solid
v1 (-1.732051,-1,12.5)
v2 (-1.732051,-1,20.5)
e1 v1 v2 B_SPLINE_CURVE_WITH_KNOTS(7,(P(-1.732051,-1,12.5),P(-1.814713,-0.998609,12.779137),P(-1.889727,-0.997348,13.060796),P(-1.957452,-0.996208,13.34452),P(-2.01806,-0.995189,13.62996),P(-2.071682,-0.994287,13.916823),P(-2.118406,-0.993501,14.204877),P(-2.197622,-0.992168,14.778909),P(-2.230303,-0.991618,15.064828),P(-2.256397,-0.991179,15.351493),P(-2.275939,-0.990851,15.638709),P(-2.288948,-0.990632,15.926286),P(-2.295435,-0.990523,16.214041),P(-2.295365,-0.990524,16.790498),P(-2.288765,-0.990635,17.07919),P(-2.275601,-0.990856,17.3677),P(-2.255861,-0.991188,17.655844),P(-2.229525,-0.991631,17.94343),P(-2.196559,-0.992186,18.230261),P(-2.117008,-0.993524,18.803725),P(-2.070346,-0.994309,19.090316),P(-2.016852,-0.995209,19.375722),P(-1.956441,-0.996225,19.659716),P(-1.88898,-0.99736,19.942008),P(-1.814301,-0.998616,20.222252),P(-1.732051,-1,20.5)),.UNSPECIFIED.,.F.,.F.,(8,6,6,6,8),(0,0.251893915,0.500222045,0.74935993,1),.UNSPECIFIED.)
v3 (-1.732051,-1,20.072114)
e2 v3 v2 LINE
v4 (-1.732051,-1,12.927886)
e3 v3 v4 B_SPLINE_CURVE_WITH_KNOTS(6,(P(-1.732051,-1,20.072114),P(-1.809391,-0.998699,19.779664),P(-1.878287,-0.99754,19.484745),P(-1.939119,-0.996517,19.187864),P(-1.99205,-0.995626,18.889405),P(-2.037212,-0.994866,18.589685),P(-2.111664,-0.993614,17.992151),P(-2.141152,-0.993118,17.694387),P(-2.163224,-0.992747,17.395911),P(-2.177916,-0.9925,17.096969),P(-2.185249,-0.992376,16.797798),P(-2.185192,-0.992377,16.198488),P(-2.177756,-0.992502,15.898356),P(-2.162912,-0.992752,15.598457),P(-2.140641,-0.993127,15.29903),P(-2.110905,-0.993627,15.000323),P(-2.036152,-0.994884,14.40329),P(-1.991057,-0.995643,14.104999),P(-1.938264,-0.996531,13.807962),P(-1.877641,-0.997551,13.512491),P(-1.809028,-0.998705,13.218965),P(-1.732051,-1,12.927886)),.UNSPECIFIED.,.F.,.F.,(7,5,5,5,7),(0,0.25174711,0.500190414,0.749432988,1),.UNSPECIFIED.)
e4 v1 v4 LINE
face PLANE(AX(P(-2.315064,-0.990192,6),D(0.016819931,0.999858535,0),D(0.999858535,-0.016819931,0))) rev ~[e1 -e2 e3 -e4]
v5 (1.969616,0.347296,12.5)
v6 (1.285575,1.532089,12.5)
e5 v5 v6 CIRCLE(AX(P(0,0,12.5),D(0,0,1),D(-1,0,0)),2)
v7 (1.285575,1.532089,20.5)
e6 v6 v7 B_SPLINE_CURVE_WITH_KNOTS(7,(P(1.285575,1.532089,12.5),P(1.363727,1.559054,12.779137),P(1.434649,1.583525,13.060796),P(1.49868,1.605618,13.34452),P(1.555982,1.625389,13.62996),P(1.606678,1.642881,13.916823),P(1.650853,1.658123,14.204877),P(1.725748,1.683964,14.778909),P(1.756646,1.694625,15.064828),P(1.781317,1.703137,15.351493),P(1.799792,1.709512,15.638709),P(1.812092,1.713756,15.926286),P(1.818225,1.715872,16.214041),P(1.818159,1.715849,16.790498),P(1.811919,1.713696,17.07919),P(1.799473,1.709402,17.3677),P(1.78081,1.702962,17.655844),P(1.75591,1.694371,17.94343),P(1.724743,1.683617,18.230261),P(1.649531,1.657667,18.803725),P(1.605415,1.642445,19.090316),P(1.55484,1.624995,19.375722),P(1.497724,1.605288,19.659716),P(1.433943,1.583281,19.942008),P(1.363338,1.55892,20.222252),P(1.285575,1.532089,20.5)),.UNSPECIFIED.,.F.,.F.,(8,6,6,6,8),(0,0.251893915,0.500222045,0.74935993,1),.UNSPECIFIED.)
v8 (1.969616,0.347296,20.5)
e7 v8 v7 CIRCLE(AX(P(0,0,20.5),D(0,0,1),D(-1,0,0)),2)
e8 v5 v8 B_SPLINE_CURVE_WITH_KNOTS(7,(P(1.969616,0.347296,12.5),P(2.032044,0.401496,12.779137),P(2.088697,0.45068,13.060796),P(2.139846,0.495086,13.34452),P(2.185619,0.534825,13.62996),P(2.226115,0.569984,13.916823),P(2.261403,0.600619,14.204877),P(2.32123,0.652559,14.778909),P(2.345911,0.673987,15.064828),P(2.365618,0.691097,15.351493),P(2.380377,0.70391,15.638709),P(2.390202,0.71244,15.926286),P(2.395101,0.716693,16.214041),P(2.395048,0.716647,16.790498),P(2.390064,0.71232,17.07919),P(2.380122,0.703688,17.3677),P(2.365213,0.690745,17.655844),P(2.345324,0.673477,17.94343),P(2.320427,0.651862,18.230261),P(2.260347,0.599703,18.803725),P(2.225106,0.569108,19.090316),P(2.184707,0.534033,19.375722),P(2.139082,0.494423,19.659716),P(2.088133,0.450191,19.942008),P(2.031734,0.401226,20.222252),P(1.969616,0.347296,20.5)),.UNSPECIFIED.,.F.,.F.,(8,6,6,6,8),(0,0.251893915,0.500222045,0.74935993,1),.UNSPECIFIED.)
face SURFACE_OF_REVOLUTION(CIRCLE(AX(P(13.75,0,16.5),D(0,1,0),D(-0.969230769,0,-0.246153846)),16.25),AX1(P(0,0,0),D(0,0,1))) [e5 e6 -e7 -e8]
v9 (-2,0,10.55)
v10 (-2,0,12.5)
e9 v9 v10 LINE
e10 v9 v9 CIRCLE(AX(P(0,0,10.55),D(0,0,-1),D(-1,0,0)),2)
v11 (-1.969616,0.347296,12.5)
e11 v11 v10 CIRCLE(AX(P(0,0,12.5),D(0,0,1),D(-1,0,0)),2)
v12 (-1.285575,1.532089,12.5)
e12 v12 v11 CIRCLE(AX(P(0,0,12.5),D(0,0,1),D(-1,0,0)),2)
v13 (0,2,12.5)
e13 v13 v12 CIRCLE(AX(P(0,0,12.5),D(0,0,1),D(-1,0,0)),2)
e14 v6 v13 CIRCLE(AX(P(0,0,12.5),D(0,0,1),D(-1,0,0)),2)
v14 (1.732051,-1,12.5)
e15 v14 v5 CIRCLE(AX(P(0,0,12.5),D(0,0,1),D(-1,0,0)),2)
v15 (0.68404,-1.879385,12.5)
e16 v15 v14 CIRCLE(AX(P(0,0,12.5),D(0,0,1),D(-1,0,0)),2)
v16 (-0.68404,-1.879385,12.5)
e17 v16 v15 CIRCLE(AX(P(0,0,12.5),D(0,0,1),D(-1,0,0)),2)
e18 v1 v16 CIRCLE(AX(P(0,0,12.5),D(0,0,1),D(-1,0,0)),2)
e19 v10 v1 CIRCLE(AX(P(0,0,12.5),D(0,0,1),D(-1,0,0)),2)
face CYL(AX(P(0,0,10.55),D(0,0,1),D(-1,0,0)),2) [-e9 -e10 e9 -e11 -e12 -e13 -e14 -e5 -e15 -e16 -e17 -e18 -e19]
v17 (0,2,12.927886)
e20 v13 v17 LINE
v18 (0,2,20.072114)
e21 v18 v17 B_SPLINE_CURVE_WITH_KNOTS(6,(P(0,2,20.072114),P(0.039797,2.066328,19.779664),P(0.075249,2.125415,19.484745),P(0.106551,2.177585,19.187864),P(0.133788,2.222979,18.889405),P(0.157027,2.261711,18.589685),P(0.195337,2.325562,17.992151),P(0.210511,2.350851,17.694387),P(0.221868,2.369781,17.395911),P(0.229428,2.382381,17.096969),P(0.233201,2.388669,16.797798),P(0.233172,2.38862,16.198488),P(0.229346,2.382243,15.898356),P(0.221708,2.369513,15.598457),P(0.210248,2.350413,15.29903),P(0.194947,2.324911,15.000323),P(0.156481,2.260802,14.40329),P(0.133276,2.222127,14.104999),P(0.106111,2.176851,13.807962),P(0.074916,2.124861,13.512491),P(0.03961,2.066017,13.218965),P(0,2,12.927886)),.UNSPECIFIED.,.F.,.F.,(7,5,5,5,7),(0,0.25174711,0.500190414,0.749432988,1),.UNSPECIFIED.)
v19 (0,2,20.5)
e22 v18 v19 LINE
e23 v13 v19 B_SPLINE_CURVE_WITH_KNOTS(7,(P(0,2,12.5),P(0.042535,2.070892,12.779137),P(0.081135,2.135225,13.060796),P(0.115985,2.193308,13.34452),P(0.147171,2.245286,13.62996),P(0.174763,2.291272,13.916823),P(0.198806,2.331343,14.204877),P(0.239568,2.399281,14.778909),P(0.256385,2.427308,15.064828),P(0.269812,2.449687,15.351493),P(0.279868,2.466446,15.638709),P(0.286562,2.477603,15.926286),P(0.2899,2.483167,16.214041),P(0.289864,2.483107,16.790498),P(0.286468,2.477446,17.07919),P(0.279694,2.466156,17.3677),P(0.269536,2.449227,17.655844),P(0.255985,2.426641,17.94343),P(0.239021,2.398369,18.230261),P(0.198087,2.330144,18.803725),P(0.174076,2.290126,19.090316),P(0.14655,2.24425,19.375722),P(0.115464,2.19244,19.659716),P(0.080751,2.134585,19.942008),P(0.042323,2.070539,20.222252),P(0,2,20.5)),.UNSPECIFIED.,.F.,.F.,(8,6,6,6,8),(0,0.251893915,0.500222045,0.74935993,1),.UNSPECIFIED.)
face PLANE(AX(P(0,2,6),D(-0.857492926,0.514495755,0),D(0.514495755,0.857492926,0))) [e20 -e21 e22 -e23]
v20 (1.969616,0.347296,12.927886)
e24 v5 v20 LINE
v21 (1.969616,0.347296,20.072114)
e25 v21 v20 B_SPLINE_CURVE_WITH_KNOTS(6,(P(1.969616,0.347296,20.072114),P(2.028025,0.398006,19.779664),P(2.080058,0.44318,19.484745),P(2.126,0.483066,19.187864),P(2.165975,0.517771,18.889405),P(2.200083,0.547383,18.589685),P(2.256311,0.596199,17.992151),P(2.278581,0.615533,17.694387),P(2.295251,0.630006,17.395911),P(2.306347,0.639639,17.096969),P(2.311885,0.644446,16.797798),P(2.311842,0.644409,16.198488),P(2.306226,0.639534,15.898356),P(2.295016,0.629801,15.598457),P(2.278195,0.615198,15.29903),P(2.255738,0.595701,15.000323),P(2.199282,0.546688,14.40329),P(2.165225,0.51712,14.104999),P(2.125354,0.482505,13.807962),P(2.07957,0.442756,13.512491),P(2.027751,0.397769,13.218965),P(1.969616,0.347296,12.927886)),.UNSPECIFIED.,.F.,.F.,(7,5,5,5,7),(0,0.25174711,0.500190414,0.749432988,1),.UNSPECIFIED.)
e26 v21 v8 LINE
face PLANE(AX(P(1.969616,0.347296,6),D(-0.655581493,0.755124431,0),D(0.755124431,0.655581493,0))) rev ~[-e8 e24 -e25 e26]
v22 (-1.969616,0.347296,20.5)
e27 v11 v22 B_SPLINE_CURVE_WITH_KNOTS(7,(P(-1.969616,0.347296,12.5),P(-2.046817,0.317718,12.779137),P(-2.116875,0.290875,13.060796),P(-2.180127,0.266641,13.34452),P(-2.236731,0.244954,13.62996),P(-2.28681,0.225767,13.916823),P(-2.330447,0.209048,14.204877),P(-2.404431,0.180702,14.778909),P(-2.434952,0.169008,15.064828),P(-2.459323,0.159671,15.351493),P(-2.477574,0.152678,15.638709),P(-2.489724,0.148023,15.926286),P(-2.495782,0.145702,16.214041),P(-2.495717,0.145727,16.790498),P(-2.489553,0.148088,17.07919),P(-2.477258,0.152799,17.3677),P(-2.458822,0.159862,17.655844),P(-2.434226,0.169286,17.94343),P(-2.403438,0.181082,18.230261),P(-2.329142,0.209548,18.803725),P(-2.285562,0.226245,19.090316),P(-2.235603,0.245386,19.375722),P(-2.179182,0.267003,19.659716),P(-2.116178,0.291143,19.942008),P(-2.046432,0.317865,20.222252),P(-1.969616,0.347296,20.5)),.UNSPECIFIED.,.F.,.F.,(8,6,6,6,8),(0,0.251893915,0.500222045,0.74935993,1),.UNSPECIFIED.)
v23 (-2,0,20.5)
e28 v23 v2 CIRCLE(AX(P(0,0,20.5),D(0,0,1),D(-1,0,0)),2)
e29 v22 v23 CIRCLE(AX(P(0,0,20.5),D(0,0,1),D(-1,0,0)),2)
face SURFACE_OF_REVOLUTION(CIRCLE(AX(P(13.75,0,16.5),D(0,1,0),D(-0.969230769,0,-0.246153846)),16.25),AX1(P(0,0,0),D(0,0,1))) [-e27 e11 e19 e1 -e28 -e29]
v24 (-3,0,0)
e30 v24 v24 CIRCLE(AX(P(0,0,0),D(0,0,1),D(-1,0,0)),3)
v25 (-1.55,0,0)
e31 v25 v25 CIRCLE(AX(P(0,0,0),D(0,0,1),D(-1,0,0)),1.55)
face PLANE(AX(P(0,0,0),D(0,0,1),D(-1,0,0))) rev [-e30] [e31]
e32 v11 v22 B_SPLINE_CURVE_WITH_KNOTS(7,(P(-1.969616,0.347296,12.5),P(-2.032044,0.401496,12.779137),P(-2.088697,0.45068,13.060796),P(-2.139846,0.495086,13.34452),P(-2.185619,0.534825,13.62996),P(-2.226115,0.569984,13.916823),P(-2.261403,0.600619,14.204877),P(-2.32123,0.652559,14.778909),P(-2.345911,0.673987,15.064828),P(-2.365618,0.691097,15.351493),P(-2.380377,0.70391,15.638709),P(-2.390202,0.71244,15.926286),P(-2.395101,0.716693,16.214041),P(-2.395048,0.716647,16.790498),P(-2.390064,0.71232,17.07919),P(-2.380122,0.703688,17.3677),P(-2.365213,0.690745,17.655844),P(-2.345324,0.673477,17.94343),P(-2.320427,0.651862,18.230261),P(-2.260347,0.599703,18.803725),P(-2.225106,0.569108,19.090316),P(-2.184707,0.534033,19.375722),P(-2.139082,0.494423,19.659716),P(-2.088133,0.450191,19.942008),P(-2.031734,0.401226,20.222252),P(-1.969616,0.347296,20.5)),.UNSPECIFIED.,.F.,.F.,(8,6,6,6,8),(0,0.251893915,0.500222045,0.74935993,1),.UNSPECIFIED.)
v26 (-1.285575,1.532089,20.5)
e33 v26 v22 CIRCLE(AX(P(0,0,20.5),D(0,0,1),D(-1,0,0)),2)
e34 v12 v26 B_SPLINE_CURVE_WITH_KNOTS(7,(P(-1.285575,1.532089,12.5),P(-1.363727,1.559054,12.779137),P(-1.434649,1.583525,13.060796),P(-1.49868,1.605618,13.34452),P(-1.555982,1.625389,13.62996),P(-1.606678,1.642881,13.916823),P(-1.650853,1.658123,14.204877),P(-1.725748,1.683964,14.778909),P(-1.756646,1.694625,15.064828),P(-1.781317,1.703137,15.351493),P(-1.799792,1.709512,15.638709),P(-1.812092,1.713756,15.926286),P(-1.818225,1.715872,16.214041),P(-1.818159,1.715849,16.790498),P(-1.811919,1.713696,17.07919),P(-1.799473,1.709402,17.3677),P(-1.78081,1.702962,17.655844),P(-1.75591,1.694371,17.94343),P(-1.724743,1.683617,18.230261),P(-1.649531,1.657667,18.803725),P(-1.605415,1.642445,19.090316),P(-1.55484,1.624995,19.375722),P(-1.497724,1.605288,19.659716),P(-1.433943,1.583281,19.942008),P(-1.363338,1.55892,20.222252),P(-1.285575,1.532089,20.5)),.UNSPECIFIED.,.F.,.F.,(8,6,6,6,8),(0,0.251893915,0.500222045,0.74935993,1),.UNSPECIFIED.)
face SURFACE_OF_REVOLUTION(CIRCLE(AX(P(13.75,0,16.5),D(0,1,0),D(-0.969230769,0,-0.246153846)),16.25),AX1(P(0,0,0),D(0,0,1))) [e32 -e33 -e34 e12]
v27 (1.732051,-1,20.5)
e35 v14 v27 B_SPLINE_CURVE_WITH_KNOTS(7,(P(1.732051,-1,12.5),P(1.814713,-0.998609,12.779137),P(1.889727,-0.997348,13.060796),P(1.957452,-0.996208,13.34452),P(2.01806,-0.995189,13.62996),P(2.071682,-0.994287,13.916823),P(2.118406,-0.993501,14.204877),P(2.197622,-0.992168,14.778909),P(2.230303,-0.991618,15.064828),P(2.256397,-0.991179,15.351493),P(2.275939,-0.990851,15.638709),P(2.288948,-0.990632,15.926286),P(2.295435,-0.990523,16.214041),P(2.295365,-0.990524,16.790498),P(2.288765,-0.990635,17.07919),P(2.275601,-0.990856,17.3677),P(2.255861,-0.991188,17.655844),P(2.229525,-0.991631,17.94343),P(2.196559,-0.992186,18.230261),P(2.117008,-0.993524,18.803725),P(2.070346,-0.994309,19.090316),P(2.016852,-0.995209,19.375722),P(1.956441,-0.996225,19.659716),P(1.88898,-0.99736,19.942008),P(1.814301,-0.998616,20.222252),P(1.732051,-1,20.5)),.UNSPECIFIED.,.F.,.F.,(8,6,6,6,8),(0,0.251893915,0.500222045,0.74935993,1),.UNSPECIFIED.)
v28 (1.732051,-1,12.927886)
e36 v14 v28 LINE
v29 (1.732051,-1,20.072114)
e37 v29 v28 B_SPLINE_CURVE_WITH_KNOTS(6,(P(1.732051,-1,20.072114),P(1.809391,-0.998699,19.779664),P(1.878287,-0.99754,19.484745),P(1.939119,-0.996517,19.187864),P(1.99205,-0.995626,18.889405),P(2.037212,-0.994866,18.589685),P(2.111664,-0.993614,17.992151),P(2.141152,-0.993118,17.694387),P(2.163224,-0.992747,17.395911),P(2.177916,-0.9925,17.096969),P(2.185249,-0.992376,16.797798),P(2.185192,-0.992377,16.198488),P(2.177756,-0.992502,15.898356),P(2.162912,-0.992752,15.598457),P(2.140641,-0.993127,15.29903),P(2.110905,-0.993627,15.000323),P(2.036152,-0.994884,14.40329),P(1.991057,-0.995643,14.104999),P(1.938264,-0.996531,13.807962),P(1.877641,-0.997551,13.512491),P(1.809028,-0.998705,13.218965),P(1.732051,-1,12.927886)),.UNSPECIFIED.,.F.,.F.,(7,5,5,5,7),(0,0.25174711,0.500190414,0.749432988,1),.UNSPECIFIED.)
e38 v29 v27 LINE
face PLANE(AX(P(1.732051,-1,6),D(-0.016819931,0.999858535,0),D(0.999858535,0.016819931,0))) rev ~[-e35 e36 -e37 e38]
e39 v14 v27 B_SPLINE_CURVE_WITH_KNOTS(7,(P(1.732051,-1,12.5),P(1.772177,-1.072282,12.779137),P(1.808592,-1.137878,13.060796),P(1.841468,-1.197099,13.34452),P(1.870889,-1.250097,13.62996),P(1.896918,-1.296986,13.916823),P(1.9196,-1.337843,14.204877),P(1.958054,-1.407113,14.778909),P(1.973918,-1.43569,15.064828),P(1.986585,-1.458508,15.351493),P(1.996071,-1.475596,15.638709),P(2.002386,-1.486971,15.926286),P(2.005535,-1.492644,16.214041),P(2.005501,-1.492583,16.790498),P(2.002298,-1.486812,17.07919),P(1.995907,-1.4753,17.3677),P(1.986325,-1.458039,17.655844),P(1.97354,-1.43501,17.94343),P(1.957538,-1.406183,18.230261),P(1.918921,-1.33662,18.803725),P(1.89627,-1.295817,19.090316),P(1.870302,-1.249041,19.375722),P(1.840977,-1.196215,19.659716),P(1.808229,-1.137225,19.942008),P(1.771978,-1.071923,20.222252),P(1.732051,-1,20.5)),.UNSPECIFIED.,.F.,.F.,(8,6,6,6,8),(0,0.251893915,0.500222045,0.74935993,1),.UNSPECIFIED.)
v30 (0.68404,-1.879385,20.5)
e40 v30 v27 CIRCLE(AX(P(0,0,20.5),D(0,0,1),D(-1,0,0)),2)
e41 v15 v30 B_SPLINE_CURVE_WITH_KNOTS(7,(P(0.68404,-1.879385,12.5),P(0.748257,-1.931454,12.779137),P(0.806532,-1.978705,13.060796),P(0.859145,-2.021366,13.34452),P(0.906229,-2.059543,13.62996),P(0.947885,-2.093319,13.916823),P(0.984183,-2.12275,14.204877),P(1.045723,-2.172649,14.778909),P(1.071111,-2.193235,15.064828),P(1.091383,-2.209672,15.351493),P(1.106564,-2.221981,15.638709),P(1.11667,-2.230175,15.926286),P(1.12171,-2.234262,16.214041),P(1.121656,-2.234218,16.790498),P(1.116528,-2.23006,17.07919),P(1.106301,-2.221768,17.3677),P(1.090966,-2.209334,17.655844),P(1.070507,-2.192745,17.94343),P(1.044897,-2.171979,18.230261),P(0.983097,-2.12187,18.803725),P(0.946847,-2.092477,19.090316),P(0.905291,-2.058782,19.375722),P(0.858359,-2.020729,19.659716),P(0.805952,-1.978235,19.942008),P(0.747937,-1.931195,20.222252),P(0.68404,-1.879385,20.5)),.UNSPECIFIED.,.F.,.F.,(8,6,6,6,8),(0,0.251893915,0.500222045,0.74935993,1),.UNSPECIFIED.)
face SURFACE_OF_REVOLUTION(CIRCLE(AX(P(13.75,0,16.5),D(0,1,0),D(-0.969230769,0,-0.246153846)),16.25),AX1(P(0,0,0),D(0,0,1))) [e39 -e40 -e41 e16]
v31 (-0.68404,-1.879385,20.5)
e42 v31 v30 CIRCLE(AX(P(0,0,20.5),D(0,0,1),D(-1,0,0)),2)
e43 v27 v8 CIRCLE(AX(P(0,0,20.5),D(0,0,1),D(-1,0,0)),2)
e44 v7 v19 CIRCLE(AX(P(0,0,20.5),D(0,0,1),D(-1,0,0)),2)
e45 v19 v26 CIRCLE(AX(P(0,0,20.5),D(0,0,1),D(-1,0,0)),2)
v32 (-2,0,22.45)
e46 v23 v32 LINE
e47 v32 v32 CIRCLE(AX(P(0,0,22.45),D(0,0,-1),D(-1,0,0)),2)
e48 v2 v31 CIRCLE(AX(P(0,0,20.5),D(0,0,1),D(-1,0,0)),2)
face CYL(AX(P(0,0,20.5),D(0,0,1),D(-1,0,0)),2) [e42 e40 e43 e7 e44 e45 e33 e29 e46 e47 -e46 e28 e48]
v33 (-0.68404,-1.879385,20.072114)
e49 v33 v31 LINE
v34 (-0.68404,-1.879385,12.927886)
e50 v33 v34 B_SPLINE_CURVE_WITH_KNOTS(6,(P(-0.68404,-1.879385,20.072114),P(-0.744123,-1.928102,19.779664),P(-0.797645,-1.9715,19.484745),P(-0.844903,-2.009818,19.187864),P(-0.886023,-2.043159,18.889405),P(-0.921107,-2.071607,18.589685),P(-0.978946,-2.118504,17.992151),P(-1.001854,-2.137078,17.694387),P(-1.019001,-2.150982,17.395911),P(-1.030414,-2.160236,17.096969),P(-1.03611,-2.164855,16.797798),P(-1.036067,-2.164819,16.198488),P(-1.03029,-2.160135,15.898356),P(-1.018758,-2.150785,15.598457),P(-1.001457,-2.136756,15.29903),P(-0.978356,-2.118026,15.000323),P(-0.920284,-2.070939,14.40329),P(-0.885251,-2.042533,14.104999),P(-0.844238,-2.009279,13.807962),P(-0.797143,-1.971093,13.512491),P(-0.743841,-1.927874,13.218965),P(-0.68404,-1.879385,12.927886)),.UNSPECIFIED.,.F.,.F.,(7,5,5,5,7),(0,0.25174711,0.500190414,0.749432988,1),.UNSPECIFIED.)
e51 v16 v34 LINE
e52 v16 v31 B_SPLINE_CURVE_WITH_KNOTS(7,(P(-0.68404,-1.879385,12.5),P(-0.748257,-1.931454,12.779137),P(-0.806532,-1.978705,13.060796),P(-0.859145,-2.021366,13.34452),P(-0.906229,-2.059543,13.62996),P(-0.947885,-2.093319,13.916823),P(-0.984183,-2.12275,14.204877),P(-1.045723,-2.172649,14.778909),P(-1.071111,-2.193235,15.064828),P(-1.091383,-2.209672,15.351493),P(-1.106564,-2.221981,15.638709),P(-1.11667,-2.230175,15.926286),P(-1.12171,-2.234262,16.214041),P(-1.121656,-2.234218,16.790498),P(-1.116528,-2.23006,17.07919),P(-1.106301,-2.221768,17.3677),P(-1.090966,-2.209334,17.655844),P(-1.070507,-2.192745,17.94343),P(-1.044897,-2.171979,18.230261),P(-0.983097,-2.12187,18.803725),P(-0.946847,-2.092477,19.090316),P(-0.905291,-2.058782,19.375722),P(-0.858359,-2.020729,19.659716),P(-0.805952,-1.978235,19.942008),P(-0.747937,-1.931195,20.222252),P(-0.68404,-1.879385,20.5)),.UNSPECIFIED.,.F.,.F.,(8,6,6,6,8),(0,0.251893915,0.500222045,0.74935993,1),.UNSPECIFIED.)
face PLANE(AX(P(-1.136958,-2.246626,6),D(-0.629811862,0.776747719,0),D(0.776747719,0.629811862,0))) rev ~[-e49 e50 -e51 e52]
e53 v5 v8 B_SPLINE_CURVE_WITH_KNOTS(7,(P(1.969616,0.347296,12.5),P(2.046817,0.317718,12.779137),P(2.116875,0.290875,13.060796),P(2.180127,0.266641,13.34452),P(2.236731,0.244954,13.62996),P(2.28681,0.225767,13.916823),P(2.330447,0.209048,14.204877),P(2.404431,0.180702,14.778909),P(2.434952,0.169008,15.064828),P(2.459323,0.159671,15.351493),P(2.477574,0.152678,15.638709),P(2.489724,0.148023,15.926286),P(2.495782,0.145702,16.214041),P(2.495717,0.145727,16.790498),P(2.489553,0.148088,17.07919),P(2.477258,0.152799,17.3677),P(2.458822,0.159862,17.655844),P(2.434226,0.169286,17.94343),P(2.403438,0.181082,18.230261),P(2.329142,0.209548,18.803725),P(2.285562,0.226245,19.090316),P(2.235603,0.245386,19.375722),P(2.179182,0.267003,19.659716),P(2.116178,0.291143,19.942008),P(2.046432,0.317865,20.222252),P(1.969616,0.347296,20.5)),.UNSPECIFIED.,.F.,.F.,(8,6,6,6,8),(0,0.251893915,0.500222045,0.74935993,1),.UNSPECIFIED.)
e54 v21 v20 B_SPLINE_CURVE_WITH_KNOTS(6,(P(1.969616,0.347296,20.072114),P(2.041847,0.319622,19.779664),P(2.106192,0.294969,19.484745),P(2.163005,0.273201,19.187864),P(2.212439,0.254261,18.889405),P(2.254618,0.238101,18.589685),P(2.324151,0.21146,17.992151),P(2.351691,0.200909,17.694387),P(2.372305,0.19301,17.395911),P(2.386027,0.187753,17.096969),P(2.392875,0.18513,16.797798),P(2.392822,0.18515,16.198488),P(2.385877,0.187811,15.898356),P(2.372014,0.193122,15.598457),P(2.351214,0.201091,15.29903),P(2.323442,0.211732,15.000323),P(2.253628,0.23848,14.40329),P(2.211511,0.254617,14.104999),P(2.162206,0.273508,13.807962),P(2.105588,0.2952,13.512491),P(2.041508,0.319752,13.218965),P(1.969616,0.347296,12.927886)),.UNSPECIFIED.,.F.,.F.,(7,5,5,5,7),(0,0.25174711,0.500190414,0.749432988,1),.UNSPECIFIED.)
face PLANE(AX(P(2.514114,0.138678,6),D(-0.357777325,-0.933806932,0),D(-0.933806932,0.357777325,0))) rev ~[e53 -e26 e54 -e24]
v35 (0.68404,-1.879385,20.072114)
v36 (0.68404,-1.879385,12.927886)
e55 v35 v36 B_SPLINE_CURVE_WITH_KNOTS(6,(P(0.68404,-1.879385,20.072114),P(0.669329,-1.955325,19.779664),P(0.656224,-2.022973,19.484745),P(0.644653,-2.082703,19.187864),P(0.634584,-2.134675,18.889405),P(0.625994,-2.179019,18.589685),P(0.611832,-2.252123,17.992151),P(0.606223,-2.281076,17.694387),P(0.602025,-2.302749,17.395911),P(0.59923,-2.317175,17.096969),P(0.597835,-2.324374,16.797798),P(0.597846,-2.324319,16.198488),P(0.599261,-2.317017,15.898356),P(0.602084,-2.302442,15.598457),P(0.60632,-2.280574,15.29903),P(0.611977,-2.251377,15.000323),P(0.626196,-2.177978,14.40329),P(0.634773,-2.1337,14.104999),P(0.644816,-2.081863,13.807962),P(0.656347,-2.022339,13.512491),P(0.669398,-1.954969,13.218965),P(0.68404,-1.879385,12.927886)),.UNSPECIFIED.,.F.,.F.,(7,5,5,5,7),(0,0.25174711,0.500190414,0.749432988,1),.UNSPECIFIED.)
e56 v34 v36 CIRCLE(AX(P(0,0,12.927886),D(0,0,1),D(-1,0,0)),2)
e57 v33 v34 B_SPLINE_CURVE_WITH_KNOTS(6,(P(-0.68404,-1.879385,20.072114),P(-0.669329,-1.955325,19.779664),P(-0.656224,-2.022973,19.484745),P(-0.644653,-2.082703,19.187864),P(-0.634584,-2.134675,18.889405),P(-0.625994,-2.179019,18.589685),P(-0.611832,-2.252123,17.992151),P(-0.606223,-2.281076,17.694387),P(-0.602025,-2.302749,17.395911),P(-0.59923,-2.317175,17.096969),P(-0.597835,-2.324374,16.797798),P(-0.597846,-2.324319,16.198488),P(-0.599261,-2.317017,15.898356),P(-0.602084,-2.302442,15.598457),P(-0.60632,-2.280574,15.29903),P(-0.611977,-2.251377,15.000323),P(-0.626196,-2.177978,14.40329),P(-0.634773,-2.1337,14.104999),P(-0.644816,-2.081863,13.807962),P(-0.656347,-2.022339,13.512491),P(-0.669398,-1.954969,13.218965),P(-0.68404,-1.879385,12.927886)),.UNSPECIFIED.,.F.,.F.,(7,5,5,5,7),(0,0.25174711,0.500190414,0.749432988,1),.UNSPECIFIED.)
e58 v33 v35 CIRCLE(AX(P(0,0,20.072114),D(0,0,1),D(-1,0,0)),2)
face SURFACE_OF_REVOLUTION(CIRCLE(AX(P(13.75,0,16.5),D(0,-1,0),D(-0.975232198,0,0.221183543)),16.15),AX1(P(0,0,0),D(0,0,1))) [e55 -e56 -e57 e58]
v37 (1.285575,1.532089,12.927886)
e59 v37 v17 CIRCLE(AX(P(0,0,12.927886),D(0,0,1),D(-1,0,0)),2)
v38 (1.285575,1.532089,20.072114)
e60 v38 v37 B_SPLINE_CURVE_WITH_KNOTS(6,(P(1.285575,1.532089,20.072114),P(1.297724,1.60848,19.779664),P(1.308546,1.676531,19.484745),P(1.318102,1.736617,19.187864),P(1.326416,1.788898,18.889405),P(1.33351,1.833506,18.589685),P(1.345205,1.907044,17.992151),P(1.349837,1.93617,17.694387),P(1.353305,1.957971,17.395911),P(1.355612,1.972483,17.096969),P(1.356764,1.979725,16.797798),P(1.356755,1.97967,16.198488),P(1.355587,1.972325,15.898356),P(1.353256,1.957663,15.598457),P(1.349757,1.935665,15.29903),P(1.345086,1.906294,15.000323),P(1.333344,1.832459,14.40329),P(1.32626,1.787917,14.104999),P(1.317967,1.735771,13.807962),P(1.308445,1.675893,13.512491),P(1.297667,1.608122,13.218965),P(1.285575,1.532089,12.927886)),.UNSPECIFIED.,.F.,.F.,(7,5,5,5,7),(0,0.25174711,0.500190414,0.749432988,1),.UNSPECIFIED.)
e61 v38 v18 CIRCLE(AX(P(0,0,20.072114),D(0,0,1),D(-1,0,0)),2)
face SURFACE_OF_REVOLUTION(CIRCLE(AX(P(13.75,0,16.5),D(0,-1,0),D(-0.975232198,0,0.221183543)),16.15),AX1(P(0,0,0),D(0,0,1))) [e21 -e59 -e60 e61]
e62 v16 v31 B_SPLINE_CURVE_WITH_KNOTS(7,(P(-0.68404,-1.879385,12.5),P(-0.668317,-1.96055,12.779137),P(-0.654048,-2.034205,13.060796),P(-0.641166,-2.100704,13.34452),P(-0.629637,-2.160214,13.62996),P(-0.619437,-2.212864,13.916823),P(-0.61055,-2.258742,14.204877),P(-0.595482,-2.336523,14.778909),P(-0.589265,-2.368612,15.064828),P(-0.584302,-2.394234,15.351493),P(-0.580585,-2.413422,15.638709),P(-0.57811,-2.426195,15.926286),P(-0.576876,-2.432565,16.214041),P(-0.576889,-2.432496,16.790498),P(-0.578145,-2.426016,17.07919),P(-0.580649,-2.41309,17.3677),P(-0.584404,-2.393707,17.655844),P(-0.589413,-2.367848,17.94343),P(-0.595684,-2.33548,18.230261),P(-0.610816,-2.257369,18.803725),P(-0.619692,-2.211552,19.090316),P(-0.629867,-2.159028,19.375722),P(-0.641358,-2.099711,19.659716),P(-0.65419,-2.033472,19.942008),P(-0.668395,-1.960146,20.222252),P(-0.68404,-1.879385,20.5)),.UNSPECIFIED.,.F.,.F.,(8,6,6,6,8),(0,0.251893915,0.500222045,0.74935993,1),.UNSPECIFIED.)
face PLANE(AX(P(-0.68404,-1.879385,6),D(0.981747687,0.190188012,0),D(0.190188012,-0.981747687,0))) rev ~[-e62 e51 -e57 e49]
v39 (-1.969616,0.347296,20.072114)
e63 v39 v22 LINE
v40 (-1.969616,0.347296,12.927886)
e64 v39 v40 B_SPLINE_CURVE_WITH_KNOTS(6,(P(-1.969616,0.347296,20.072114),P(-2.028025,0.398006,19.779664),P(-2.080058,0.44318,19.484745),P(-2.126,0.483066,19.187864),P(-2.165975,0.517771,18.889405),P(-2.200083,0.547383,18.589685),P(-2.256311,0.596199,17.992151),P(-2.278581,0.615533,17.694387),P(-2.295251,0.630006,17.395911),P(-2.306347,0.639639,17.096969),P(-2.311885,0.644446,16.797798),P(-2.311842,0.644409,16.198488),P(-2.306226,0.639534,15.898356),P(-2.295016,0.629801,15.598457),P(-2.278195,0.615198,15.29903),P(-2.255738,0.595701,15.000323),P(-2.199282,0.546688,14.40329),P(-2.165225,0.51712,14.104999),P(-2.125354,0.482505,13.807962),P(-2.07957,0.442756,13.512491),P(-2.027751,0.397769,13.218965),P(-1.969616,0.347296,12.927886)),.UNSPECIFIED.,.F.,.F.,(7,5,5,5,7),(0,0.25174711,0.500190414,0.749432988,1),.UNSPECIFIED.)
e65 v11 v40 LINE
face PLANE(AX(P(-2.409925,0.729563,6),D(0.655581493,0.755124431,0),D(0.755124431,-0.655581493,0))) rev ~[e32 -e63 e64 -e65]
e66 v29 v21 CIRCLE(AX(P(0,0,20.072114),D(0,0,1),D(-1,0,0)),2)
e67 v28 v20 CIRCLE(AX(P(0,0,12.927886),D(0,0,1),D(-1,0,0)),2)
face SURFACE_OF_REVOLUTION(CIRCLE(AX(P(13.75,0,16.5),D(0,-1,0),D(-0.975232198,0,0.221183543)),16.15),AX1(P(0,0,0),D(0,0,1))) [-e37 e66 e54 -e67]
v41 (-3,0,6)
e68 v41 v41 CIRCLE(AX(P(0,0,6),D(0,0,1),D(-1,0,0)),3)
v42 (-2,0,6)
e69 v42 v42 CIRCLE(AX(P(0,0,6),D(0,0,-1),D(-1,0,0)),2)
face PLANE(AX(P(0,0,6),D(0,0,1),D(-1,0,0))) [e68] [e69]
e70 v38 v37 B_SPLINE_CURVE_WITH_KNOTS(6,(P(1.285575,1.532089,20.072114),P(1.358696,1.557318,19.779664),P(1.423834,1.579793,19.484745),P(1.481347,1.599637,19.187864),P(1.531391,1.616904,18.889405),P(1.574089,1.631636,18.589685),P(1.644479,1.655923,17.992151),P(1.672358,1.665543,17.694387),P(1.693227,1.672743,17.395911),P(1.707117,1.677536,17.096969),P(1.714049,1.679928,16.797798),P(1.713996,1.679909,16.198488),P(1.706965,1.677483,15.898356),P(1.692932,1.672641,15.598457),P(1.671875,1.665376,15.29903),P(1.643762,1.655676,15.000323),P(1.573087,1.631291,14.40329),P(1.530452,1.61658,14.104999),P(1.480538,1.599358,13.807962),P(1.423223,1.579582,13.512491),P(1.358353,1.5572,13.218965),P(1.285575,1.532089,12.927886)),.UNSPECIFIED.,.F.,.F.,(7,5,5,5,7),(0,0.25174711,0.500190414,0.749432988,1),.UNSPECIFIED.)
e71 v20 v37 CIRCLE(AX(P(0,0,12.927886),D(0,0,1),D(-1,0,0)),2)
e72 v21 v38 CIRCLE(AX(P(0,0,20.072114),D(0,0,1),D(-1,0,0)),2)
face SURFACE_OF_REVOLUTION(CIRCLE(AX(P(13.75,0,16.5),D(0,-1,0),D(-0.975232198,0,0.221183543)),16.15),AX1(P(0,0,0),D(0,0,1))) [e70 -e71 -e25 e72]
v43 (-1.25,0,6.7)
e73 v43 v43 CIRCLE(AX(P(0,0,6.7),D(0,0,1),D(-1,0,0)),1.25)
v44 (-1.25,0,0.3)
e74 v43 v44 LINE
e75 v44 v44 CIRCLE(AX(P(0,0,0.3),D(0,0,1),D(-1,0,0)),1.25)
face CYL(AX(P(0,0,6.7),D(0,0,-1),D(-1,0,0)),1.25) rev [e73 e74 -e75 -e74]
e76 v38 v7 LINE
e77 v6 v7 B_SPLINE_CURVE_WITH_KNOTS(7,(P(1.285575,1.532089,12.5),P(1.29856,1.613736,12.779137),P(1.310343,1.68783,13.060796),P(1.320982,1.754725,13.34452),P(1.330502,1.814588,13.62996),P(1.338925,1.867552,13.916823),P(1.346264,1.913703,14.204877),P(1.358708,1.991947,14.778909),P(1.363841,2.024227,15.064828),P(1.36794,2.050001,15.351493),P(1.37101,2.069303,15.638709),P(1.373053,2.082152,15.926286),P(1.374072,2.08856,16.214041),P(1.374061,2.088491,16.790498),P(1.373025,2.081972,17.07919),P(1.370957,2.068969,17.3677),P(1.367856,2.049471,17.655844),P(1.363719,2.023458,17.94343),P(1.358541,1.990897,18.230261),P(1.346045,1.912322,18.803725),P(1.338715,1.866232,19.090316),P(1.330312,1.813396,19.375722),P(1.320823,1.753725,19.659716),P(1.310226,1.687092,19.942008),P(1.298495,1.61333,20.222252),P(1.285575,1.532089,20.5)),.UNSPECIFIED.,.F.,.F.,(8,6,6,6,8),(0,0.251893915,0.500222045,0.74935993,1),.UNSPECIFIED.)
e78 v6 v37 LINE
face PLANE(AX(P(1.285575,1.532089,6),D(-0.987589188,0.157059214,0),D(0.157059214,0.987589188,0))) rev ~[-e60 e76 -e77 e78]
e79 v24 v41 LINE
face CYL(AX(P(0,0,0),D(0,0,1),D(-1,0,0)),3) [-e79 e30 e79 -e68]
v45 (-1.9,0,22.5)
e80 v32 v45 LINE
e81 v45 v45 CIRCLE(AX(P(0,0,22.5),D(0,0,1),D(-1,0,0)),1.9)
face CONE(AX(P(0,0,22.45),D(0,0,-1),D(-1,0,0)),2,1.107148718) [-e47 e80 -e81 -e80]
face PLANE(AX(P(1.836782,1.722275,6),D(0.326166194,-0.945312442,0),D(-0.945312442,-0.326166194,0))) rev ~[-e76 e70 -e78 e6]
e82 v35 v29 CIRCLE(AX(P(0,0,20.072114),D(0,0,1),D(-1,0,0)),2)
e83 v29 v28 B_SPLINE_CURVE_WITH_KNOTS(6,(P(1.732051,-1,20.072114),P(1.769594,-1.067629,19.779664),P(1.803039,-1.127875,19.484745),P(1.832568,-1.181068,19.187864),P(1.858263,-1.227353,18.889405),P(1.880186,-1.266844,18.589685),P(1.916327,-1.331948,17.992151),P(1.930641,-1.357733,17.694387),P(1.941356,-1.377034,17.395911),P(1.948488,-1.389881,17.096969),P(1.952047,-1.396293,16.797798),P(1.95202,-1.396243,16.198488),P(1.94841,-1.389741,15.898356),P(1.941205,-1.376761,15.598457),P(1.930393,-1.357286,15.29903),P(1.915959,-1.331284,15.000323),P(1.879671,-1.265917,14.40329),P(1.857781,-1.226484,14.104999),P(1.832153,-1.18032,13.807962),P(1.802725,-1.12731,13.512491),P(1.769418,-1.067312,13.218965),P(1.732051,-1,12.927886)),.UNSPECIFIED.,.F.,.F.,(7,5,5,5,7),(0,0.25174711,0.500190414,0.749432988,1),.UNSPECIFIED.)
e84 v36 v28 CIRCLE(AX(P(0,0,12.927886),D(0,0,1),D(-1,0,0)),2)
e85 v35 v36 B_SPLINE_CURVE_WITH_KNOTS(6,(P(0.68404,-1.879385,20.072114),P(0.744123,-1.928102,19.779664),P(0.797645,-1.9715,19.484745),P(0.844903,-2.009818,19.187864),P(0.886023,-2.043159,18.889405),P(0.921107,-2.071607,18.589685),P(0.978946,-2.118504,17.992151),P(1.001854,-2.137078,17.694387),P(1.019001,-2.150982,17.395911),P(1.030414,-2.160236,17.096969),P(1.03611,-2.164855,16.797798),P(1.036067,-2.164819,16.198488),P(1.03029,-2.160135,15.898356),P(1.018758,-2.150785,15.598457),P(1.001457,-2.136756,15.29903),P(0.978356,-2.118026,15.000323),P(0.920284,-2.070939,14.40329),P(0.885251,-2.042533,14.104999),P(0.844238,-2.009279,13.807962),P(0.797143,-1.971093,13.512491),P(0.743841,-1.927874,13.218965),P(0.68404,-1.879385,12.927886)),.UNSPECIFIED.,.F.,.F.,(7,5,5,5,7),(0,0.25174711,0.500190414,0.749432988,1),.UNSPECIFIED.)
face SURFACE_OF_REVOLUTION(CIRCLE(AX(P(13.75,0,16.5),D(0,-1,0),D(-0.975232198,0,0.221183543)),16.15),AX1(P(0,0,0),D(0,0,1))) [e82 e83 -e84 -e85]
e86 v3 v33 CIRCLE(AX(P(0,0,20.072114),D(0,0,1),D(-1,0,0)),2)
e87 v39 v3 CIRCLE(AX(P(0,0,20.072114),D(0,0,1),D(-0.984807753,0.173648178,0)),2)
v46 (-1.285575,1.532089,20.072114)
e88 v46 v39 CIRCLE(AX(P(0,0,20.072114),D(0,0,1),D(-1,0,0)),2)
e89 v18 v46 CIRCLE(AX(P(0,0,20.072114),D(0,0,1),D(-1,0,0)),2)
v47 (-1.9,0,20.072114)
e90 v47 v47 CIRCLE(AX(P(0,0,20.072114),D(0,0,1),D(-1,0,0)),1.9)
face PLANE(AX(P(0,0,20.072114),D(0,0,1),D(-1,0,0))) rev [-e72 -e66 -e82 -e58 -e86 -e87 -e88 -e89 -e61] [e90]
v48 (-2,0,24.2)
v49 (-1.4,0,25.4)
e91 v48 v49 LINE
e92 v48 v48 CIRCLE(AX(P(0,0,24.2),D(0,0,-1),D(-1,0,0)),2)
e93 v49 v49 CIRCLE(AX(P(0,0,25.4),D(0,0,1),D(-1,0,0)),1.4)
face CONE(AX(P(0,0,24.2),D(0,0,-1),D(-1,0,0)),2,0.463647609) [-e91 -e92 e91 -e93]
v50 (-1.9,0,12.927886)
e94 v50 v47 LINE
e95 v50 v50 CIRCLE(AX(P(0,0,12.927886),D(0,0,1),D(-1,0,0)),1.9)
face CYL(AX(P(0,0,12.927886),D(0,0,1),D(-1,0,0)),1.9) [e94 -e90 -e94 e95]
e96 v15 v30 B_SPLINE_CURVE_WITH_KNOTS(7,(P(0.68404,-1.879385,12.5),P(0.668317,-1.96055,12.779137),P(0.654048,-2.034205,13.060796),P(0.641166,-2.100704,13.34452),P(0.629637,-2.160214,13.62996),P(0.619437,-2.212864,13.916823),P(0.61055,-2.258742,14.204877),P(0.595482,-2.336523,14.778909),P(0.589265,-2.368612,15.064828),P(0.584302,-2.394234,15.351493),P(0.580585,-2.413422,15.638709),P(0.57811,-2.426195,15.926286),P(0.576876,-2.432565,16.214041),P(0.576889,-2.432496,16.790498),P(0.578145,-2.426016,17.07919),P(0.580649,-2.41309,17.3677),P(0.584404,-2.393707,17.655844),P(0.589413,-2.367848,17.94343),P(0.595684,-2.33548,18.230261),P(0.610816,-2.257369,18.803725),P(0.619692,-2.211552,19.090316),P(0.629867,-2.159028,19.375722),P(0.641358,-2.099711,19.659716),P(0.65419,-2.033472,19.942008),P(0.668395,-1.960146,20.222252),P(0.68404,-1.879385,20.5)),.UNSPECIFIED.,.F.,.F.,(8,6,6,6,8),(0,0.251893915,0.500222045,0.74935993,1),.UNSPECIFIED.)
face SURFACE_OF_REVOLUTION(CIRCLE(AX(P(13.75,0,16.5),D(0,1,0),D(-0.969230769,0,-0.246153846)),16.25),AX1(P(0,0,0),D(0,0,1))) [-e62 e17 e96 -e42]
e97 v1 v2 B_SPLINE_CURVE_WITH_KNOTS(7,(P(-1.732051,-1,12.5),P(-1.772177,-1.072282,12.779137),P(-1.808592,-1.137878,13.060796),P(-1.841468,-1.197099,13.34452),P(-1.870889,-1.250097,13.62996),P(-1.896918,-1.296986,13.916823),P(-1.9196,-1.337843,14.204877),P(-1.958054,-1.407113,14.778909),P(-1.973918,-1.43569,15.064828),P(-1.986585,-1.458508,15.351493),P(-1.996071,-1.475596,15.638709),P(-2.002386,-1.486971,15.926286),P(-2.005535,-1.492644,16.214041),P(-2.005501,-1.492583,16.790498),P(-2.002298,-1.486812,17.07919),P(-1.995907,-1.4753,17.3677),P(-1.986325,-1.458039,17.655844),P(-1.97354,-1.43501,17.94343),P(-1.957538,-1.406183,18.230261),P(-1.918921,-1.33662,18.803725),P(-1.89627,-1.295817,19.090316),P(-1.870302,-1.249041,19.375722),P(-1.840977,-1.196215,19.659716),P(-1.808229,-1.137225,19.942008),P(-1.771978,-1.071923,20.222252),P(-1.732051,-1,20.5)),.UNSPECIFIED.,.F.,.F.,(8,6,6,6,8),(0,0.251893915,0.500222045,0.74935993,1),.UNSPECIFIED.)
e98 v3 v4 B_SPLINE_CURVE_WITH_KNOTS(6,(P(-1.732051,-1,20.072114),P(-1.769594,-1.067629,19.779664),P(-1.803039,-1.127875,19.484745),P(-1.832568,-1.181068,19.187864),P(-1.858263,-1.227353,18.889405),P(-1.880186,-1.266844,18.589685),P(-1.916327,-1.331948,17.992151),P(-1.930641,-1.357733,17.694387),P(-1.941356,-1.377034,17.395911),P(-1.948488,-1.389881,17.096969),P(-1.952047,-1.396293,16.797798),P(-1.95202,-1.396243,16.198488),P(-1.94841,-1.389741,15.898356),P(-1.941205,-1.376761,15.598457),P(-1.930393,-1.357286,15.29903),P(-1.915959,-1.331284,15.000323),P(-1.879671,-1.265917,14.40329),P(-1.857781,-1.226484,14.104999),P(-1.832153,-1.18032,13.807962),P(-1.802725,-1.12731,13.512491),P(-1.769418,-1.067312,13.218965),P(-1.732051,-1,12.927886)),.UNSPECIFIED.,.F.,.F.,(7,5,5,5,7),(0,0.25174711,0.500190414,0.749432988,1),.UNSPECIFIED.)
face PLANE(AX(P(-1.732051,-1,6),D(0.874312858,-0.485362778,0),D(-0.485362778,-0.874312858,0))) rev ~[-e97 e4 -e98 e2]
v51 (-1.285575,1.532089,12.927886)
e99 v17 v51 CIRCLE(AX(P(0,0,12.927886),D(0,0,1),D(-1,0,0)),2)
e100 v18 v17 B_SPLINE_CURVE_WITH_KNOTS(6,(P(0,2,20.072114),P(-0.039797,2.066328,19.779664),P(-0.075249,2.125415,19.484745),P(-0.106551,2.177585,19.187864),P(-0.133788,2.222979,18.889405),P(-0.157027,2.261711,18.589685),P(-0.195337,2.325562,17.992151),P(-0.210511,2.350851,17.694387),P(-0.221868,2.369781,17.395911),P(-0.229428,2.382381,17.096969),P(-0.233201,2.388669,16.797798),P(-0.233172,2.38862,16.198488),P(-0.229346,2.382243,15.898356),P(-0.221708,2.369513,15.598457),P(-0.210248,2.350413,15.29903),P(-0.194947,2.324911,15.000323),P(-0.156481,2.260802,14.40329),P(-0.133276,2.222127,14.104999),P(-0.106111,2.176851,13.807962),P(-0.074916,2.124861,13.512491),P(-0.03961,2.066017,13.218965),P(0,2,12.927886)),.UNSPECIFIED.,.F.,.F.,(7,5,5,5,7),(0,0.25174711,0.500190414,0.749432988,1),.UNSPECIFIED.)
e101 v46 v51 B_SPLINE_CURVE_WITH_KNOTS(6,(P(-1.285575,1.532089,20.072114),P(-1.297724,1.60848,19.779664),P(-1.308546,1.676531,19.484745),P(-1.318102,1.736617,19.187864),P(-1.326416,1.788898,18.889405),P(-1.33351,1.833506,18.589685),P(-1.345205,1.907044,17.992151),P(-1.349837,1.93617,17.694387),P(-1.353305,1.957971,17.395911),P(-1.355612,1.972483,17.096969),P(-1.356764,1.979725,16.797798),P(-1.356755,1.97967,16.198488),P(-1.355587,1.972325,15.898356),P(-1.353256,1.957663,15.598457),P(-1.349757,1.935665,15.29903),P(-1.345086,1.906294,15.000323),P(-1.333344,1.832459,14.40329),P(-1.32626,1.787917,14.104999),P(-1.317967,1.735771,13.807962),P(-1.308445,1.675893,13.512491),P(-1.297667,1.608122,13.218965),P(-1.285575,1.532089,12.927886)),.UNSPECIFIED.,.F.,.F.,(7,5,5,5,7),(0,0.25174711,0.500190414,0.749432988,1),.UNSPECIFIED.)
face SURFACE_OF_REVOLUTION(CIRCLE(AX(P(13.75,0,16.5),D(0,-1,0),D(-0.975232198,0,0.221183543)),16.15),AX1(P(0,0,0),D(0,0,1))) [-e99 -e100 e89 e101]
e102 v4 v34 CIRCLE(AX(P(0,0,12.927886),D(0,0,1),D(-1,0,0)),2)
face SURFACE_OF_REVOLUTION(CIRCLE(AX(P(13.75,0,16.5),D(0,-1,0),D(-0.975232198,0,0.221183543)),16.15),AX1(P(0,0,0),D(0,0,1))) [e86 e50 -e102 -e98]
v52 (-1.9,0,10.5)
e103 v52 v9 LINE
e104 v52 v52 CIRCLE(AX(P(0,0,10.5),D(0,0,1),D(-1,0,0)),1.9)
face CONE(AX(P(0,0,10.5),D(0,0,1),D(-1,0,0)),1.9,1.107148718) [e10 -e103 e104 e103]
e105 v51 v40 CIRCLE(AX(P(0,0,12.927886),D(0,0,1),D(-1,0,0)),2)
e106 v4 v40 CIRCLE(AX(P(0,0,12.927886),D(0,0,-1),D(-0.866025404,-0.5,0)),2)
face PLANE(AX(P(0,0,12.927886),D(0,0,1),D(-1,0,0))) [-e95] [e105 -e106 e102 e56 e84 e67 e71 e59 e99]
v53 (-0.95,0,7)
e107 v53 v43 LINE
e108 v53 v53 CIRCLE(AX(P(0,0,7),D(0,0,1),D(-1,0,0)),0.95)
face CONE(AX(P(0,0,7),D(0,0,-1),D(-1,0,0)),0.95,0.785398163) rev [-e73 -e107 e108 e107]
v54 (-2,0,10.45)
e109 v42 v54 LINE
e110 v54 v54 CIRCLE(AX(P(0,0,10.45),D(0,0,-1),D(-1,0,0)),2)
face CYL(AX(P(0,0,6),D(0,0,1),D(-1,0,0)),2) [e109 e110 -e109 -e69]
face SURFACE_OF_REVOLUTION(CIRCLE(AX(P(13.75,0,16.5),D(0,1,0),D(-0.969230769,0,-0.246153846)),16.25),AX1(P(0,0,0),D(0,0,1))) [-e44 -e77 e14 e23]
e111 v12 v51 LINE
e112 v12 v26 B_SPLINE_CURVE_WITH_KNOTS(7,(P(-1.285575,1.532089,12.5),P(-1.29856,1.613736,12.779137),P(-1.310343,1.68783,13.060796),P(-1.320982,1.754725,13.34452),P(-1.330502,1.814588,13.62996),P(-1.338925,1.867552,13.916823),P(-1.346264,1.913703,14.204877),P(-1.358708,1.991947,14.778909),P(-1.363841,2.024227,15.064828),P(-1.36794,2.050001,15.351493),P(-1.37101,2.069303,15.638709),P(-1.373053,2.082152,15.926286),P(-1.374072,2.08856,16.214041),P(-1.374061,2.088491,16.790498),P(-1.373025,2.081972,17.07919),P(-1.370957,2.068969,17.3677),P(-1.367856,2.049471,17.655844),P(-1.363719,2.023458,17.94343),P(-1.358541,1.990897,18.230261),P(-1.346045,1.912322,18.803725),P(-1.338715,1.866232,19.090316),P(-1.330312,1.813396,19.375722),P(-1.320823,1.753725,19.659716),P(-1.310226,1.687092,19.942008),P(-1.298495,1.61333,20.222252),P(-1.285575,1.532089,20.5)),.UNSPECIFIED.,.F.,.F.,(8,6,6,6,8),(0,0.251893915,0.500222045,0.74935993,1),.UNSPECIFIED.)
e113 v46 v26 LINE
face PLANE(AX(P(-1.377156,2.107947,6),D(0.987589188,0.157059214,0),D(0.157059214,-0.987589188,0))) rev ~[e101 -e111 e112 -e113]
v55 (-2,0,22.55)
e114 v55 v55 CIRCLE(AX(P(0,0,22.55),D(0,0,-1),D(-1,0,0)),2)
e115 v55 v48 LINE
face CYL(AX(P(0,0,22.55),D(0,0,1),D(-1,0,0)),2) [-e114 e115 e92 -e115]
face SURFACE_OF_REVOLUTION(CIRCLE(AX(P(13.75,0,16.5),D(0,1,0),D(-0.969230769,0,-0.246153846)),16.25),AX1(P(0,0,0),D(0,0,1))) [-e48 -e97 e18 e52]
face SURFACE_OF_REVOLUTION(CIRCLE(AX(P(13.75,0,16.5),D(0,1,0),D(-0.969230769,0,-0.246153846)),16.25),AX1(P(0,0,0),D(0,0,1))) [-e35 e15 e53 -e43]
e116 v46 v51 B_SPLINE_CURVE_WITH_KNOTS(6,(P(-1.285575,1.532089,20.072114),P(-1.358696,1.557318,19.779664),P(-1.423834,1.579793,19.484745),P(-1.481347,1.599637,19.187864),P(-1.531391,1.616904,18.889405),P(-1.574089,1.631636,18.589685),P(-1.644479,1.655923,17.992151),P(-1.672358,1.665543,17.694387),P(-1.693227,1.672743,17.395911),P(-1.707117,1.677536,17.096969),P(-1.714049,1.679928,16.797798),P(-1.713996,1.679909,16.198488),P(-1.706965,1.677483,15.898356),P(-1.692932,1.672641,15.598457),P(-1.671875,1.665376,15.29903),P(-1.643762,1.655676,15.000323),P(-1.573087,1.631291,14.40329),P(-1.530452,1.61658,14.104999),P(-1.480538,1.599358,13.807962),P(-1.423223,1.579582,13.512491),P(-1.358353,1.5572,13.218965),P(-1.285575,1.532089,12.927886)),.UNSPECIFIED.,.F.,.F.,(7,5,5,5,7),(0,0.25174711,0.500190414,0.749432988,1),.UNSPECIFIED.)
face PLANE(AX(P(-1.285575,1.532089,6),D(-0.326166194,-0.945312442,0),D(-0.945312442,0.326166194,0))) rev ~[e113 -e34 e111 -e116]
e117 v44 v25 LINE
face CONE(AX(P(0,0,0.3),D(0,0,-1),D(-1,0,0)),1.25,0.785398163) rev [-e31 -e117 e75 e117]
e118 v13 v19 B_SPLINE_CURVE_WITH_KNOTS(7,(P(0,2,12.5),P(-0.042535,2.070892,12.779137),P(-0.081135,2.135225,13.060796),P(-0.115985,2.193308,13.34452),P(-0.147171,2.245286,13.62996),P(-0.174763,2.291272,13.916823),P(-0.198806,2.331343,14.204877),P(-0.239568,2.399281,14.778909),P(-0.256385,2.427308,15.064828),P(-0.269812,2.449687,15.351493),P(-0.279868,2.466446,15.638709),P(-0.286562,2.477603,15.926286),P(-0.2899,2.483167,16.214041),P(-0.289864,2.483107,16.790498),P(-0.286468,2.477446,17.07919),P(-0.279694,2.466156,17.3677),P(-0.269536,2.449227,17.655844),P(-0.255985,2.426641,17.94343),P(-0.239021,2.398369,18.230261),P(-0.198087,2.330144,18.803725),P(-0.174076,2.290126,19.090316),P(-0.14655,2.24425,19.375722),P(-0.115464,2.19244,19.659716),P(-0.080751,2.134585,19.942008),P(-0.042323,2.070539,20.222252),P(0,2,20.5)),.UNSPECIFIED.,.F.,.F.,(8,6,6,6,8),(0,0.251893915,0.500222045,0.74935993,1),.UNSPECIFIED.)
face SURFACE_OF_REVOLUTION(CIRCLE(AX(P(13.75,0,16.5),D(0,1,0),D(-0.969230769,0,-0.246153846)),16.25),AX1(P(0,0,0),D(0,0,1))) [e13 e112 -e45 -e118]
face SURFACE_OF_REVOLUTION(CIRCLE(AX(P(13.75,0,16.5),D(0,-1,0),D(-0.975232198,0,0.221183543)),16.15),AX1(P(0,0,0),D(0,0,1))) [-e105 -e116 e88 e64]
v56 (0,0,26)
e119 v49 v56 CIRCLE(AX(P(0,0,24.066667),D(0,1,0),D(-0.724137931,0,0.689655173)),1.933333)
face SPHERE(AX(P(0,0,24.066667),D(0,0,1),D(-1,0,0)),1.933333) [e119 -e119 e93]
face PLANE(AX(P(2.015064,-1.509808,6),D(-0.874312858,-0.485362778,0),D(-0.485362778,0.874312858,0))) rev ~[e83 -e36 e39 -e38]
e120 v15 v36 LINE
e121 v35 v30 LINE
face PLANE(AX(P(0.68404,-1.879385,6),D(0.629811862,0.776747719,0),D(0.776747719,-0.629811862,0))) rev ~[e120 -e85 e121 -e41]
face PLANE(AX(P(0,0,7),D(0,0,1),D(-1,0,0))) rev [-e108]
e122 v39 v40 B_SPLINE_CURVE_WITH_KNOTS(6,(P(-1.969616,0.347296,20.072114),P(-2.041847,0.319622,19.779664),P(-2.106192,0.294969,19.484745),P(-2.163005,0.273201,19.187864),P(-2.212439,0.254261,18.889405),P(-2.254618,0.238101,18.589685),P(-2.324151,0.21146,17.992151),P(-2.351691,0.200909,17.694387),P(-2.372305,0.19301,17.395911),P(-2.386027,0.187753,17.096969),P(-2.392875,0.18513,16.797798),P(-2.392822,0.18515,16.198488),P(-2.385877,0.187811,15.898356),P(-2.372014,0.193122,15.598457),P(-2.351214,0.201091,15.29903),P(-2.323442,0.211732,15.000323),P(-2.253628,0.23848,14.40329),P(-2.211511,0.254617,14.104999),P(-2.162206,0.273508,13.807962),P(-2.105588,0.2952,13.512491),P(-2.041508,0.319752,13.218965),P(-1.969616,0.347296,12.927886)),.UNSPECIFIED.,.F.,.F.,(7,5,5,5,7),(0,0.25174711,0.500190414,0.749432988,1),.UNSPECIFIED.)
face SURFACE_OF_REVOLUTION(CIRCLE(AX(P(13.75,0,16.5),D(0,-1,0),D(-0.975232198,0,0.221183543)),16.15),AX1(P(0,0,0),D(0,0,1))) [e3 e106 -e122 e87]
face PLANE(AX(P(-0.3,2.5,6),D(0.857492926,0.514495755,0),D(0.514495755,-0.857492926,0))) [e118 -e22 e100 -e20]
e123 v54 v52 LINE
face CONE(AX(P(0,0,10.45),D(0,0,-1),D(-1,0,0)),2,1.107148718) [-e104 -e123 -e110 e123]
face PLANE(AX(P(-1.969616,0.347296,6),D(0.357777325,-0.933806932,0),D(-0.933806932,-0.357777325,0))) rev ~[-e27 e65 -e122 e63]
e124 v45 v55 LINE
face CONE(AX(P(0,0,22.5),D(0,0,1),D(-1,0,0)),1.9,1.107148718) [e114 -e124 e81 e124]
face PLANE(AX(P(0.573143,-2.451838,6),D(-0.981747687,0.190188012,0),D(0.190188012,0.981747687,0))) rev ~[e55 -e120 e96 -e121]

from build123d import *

# Parameters (mm, degrees)
ENL_V_START             = 6
ENL_V_MAT_EXTRU_2_DEPTH = 21.343879745


with BuildPart() as part:
    # Esquisse1 → base (revolve)
    with BuildSketch(Plane(origin=(0, 0, 0), x_dir=(0, 0, -1), z_dir=(1, 0, 0)), mode=Mode.PRIVATE) as base_sk:
        with BuildLine():
            Line((0, 1.55), (0, 3))
            Line((0, 3), (-6, 3))
            Line((-6, 3), (-6, 2))
            Line((-6, 2), (-10.45, 2))
            Line((-10.45, 2), (-10.5, 1.9))
            Line((-10.5, 1.9), (-10.55, 2))
            Line((-10.55, 2), (-12.5, 2))
            ThreePointArc((-12.5, 2), (-16.5, 2.5), (-20.5, 2))
            Line((-20.5, 2), (-22.45, 2))
            Line((-22.45, 2), (-22.5, 1.9))
            Line((-22.5, 1.9), (-22.55, 2))
            Line((-22.55, 2), (-24.2, 2))
            Line((-24.2, 2), (-25.4, 1.4))
            ThreePointArc((-25.4, 1.4), (-25.843680391, 0.761577311), (-26, 0))
            Line((-26, 0), (-7, 0))
            Line((-7, 0), (-7, 0.95))
            Line((-7, 0.95), (-6.7, 1.25))
            Line((-6.7, 1.25), (-0.3, 1.25))
            Line((-0.3, 1.25), (0, 1.55))
        make_face()
        with BuildLine():
            Line((-12.92788578, 2), (-12.92788578, 1.9))
            Line((-12.92788578, 1.9), (-20.07211422, 1.9))
            Line((-20.07211422, 1.9), (-20.07211422, 2))
            ThreePointArc((-20.07211422, 2), (-16.5, 2.4), (-12.92788578, 2))
        make_face(mode=Mode.SUBTRACT)
    revolve(base_sk.sketch.rotate(Axis((0, 0, 0), (0, 0, 1)), 90), axis=Axis((0, 0, 0), (0, 0, 1)))

    # Esquisse2 → Enlèv. mat.-Extru.2 (cut, through all)
    with BuildSketch(Plane.XY.offset(ENL_V_START)):
        Polygon((0.3, 2.5), (-0.3, 2.5), (0, 2), align=None)
        Polygon((1.836782357, 1.722274825), (1.285575219, 1.532088886), (1.377155691, 2.107947391), align=None)
        Polygon((2.514113836, 0.138678118), (1.969615506, 0.347296355), (2.409924929, 0.72956277), align=None)
        Polygon((2.015063509, -1.509807621), (1.732050808, -1), (2.315063509, -0.990192379), align=None)
        Polygon((0.573142572, -2.451837595), (0.684040287, -1.879385242), (1.136958145, -2.246625509), align=None)
        Polygon((-1.136958145, -2.246625509), (-0.684040287, -1.879385242), (-0.573142572, -2.451837595), align=None)
        Polygon((-2.315063509, -0.990192379), (-1.732050808, -1), (-2.015063509, -1.509807621), align=None)
        Polygon((-2.409924929, 0.72956277), (-1.969615506, 0.347296355), (-2.514113836, 0.138678118), align=None)
        Polygon((-1.377155691, 2.107947391), (-1.285575219, 1.532088886), (-1.836782357, 1.722274825), align=None)
    extrude(amount=ENL_V_MAT_EXTRU_2_DEPTH, mode=Mode.SUBTRACT)


solid = part.part
